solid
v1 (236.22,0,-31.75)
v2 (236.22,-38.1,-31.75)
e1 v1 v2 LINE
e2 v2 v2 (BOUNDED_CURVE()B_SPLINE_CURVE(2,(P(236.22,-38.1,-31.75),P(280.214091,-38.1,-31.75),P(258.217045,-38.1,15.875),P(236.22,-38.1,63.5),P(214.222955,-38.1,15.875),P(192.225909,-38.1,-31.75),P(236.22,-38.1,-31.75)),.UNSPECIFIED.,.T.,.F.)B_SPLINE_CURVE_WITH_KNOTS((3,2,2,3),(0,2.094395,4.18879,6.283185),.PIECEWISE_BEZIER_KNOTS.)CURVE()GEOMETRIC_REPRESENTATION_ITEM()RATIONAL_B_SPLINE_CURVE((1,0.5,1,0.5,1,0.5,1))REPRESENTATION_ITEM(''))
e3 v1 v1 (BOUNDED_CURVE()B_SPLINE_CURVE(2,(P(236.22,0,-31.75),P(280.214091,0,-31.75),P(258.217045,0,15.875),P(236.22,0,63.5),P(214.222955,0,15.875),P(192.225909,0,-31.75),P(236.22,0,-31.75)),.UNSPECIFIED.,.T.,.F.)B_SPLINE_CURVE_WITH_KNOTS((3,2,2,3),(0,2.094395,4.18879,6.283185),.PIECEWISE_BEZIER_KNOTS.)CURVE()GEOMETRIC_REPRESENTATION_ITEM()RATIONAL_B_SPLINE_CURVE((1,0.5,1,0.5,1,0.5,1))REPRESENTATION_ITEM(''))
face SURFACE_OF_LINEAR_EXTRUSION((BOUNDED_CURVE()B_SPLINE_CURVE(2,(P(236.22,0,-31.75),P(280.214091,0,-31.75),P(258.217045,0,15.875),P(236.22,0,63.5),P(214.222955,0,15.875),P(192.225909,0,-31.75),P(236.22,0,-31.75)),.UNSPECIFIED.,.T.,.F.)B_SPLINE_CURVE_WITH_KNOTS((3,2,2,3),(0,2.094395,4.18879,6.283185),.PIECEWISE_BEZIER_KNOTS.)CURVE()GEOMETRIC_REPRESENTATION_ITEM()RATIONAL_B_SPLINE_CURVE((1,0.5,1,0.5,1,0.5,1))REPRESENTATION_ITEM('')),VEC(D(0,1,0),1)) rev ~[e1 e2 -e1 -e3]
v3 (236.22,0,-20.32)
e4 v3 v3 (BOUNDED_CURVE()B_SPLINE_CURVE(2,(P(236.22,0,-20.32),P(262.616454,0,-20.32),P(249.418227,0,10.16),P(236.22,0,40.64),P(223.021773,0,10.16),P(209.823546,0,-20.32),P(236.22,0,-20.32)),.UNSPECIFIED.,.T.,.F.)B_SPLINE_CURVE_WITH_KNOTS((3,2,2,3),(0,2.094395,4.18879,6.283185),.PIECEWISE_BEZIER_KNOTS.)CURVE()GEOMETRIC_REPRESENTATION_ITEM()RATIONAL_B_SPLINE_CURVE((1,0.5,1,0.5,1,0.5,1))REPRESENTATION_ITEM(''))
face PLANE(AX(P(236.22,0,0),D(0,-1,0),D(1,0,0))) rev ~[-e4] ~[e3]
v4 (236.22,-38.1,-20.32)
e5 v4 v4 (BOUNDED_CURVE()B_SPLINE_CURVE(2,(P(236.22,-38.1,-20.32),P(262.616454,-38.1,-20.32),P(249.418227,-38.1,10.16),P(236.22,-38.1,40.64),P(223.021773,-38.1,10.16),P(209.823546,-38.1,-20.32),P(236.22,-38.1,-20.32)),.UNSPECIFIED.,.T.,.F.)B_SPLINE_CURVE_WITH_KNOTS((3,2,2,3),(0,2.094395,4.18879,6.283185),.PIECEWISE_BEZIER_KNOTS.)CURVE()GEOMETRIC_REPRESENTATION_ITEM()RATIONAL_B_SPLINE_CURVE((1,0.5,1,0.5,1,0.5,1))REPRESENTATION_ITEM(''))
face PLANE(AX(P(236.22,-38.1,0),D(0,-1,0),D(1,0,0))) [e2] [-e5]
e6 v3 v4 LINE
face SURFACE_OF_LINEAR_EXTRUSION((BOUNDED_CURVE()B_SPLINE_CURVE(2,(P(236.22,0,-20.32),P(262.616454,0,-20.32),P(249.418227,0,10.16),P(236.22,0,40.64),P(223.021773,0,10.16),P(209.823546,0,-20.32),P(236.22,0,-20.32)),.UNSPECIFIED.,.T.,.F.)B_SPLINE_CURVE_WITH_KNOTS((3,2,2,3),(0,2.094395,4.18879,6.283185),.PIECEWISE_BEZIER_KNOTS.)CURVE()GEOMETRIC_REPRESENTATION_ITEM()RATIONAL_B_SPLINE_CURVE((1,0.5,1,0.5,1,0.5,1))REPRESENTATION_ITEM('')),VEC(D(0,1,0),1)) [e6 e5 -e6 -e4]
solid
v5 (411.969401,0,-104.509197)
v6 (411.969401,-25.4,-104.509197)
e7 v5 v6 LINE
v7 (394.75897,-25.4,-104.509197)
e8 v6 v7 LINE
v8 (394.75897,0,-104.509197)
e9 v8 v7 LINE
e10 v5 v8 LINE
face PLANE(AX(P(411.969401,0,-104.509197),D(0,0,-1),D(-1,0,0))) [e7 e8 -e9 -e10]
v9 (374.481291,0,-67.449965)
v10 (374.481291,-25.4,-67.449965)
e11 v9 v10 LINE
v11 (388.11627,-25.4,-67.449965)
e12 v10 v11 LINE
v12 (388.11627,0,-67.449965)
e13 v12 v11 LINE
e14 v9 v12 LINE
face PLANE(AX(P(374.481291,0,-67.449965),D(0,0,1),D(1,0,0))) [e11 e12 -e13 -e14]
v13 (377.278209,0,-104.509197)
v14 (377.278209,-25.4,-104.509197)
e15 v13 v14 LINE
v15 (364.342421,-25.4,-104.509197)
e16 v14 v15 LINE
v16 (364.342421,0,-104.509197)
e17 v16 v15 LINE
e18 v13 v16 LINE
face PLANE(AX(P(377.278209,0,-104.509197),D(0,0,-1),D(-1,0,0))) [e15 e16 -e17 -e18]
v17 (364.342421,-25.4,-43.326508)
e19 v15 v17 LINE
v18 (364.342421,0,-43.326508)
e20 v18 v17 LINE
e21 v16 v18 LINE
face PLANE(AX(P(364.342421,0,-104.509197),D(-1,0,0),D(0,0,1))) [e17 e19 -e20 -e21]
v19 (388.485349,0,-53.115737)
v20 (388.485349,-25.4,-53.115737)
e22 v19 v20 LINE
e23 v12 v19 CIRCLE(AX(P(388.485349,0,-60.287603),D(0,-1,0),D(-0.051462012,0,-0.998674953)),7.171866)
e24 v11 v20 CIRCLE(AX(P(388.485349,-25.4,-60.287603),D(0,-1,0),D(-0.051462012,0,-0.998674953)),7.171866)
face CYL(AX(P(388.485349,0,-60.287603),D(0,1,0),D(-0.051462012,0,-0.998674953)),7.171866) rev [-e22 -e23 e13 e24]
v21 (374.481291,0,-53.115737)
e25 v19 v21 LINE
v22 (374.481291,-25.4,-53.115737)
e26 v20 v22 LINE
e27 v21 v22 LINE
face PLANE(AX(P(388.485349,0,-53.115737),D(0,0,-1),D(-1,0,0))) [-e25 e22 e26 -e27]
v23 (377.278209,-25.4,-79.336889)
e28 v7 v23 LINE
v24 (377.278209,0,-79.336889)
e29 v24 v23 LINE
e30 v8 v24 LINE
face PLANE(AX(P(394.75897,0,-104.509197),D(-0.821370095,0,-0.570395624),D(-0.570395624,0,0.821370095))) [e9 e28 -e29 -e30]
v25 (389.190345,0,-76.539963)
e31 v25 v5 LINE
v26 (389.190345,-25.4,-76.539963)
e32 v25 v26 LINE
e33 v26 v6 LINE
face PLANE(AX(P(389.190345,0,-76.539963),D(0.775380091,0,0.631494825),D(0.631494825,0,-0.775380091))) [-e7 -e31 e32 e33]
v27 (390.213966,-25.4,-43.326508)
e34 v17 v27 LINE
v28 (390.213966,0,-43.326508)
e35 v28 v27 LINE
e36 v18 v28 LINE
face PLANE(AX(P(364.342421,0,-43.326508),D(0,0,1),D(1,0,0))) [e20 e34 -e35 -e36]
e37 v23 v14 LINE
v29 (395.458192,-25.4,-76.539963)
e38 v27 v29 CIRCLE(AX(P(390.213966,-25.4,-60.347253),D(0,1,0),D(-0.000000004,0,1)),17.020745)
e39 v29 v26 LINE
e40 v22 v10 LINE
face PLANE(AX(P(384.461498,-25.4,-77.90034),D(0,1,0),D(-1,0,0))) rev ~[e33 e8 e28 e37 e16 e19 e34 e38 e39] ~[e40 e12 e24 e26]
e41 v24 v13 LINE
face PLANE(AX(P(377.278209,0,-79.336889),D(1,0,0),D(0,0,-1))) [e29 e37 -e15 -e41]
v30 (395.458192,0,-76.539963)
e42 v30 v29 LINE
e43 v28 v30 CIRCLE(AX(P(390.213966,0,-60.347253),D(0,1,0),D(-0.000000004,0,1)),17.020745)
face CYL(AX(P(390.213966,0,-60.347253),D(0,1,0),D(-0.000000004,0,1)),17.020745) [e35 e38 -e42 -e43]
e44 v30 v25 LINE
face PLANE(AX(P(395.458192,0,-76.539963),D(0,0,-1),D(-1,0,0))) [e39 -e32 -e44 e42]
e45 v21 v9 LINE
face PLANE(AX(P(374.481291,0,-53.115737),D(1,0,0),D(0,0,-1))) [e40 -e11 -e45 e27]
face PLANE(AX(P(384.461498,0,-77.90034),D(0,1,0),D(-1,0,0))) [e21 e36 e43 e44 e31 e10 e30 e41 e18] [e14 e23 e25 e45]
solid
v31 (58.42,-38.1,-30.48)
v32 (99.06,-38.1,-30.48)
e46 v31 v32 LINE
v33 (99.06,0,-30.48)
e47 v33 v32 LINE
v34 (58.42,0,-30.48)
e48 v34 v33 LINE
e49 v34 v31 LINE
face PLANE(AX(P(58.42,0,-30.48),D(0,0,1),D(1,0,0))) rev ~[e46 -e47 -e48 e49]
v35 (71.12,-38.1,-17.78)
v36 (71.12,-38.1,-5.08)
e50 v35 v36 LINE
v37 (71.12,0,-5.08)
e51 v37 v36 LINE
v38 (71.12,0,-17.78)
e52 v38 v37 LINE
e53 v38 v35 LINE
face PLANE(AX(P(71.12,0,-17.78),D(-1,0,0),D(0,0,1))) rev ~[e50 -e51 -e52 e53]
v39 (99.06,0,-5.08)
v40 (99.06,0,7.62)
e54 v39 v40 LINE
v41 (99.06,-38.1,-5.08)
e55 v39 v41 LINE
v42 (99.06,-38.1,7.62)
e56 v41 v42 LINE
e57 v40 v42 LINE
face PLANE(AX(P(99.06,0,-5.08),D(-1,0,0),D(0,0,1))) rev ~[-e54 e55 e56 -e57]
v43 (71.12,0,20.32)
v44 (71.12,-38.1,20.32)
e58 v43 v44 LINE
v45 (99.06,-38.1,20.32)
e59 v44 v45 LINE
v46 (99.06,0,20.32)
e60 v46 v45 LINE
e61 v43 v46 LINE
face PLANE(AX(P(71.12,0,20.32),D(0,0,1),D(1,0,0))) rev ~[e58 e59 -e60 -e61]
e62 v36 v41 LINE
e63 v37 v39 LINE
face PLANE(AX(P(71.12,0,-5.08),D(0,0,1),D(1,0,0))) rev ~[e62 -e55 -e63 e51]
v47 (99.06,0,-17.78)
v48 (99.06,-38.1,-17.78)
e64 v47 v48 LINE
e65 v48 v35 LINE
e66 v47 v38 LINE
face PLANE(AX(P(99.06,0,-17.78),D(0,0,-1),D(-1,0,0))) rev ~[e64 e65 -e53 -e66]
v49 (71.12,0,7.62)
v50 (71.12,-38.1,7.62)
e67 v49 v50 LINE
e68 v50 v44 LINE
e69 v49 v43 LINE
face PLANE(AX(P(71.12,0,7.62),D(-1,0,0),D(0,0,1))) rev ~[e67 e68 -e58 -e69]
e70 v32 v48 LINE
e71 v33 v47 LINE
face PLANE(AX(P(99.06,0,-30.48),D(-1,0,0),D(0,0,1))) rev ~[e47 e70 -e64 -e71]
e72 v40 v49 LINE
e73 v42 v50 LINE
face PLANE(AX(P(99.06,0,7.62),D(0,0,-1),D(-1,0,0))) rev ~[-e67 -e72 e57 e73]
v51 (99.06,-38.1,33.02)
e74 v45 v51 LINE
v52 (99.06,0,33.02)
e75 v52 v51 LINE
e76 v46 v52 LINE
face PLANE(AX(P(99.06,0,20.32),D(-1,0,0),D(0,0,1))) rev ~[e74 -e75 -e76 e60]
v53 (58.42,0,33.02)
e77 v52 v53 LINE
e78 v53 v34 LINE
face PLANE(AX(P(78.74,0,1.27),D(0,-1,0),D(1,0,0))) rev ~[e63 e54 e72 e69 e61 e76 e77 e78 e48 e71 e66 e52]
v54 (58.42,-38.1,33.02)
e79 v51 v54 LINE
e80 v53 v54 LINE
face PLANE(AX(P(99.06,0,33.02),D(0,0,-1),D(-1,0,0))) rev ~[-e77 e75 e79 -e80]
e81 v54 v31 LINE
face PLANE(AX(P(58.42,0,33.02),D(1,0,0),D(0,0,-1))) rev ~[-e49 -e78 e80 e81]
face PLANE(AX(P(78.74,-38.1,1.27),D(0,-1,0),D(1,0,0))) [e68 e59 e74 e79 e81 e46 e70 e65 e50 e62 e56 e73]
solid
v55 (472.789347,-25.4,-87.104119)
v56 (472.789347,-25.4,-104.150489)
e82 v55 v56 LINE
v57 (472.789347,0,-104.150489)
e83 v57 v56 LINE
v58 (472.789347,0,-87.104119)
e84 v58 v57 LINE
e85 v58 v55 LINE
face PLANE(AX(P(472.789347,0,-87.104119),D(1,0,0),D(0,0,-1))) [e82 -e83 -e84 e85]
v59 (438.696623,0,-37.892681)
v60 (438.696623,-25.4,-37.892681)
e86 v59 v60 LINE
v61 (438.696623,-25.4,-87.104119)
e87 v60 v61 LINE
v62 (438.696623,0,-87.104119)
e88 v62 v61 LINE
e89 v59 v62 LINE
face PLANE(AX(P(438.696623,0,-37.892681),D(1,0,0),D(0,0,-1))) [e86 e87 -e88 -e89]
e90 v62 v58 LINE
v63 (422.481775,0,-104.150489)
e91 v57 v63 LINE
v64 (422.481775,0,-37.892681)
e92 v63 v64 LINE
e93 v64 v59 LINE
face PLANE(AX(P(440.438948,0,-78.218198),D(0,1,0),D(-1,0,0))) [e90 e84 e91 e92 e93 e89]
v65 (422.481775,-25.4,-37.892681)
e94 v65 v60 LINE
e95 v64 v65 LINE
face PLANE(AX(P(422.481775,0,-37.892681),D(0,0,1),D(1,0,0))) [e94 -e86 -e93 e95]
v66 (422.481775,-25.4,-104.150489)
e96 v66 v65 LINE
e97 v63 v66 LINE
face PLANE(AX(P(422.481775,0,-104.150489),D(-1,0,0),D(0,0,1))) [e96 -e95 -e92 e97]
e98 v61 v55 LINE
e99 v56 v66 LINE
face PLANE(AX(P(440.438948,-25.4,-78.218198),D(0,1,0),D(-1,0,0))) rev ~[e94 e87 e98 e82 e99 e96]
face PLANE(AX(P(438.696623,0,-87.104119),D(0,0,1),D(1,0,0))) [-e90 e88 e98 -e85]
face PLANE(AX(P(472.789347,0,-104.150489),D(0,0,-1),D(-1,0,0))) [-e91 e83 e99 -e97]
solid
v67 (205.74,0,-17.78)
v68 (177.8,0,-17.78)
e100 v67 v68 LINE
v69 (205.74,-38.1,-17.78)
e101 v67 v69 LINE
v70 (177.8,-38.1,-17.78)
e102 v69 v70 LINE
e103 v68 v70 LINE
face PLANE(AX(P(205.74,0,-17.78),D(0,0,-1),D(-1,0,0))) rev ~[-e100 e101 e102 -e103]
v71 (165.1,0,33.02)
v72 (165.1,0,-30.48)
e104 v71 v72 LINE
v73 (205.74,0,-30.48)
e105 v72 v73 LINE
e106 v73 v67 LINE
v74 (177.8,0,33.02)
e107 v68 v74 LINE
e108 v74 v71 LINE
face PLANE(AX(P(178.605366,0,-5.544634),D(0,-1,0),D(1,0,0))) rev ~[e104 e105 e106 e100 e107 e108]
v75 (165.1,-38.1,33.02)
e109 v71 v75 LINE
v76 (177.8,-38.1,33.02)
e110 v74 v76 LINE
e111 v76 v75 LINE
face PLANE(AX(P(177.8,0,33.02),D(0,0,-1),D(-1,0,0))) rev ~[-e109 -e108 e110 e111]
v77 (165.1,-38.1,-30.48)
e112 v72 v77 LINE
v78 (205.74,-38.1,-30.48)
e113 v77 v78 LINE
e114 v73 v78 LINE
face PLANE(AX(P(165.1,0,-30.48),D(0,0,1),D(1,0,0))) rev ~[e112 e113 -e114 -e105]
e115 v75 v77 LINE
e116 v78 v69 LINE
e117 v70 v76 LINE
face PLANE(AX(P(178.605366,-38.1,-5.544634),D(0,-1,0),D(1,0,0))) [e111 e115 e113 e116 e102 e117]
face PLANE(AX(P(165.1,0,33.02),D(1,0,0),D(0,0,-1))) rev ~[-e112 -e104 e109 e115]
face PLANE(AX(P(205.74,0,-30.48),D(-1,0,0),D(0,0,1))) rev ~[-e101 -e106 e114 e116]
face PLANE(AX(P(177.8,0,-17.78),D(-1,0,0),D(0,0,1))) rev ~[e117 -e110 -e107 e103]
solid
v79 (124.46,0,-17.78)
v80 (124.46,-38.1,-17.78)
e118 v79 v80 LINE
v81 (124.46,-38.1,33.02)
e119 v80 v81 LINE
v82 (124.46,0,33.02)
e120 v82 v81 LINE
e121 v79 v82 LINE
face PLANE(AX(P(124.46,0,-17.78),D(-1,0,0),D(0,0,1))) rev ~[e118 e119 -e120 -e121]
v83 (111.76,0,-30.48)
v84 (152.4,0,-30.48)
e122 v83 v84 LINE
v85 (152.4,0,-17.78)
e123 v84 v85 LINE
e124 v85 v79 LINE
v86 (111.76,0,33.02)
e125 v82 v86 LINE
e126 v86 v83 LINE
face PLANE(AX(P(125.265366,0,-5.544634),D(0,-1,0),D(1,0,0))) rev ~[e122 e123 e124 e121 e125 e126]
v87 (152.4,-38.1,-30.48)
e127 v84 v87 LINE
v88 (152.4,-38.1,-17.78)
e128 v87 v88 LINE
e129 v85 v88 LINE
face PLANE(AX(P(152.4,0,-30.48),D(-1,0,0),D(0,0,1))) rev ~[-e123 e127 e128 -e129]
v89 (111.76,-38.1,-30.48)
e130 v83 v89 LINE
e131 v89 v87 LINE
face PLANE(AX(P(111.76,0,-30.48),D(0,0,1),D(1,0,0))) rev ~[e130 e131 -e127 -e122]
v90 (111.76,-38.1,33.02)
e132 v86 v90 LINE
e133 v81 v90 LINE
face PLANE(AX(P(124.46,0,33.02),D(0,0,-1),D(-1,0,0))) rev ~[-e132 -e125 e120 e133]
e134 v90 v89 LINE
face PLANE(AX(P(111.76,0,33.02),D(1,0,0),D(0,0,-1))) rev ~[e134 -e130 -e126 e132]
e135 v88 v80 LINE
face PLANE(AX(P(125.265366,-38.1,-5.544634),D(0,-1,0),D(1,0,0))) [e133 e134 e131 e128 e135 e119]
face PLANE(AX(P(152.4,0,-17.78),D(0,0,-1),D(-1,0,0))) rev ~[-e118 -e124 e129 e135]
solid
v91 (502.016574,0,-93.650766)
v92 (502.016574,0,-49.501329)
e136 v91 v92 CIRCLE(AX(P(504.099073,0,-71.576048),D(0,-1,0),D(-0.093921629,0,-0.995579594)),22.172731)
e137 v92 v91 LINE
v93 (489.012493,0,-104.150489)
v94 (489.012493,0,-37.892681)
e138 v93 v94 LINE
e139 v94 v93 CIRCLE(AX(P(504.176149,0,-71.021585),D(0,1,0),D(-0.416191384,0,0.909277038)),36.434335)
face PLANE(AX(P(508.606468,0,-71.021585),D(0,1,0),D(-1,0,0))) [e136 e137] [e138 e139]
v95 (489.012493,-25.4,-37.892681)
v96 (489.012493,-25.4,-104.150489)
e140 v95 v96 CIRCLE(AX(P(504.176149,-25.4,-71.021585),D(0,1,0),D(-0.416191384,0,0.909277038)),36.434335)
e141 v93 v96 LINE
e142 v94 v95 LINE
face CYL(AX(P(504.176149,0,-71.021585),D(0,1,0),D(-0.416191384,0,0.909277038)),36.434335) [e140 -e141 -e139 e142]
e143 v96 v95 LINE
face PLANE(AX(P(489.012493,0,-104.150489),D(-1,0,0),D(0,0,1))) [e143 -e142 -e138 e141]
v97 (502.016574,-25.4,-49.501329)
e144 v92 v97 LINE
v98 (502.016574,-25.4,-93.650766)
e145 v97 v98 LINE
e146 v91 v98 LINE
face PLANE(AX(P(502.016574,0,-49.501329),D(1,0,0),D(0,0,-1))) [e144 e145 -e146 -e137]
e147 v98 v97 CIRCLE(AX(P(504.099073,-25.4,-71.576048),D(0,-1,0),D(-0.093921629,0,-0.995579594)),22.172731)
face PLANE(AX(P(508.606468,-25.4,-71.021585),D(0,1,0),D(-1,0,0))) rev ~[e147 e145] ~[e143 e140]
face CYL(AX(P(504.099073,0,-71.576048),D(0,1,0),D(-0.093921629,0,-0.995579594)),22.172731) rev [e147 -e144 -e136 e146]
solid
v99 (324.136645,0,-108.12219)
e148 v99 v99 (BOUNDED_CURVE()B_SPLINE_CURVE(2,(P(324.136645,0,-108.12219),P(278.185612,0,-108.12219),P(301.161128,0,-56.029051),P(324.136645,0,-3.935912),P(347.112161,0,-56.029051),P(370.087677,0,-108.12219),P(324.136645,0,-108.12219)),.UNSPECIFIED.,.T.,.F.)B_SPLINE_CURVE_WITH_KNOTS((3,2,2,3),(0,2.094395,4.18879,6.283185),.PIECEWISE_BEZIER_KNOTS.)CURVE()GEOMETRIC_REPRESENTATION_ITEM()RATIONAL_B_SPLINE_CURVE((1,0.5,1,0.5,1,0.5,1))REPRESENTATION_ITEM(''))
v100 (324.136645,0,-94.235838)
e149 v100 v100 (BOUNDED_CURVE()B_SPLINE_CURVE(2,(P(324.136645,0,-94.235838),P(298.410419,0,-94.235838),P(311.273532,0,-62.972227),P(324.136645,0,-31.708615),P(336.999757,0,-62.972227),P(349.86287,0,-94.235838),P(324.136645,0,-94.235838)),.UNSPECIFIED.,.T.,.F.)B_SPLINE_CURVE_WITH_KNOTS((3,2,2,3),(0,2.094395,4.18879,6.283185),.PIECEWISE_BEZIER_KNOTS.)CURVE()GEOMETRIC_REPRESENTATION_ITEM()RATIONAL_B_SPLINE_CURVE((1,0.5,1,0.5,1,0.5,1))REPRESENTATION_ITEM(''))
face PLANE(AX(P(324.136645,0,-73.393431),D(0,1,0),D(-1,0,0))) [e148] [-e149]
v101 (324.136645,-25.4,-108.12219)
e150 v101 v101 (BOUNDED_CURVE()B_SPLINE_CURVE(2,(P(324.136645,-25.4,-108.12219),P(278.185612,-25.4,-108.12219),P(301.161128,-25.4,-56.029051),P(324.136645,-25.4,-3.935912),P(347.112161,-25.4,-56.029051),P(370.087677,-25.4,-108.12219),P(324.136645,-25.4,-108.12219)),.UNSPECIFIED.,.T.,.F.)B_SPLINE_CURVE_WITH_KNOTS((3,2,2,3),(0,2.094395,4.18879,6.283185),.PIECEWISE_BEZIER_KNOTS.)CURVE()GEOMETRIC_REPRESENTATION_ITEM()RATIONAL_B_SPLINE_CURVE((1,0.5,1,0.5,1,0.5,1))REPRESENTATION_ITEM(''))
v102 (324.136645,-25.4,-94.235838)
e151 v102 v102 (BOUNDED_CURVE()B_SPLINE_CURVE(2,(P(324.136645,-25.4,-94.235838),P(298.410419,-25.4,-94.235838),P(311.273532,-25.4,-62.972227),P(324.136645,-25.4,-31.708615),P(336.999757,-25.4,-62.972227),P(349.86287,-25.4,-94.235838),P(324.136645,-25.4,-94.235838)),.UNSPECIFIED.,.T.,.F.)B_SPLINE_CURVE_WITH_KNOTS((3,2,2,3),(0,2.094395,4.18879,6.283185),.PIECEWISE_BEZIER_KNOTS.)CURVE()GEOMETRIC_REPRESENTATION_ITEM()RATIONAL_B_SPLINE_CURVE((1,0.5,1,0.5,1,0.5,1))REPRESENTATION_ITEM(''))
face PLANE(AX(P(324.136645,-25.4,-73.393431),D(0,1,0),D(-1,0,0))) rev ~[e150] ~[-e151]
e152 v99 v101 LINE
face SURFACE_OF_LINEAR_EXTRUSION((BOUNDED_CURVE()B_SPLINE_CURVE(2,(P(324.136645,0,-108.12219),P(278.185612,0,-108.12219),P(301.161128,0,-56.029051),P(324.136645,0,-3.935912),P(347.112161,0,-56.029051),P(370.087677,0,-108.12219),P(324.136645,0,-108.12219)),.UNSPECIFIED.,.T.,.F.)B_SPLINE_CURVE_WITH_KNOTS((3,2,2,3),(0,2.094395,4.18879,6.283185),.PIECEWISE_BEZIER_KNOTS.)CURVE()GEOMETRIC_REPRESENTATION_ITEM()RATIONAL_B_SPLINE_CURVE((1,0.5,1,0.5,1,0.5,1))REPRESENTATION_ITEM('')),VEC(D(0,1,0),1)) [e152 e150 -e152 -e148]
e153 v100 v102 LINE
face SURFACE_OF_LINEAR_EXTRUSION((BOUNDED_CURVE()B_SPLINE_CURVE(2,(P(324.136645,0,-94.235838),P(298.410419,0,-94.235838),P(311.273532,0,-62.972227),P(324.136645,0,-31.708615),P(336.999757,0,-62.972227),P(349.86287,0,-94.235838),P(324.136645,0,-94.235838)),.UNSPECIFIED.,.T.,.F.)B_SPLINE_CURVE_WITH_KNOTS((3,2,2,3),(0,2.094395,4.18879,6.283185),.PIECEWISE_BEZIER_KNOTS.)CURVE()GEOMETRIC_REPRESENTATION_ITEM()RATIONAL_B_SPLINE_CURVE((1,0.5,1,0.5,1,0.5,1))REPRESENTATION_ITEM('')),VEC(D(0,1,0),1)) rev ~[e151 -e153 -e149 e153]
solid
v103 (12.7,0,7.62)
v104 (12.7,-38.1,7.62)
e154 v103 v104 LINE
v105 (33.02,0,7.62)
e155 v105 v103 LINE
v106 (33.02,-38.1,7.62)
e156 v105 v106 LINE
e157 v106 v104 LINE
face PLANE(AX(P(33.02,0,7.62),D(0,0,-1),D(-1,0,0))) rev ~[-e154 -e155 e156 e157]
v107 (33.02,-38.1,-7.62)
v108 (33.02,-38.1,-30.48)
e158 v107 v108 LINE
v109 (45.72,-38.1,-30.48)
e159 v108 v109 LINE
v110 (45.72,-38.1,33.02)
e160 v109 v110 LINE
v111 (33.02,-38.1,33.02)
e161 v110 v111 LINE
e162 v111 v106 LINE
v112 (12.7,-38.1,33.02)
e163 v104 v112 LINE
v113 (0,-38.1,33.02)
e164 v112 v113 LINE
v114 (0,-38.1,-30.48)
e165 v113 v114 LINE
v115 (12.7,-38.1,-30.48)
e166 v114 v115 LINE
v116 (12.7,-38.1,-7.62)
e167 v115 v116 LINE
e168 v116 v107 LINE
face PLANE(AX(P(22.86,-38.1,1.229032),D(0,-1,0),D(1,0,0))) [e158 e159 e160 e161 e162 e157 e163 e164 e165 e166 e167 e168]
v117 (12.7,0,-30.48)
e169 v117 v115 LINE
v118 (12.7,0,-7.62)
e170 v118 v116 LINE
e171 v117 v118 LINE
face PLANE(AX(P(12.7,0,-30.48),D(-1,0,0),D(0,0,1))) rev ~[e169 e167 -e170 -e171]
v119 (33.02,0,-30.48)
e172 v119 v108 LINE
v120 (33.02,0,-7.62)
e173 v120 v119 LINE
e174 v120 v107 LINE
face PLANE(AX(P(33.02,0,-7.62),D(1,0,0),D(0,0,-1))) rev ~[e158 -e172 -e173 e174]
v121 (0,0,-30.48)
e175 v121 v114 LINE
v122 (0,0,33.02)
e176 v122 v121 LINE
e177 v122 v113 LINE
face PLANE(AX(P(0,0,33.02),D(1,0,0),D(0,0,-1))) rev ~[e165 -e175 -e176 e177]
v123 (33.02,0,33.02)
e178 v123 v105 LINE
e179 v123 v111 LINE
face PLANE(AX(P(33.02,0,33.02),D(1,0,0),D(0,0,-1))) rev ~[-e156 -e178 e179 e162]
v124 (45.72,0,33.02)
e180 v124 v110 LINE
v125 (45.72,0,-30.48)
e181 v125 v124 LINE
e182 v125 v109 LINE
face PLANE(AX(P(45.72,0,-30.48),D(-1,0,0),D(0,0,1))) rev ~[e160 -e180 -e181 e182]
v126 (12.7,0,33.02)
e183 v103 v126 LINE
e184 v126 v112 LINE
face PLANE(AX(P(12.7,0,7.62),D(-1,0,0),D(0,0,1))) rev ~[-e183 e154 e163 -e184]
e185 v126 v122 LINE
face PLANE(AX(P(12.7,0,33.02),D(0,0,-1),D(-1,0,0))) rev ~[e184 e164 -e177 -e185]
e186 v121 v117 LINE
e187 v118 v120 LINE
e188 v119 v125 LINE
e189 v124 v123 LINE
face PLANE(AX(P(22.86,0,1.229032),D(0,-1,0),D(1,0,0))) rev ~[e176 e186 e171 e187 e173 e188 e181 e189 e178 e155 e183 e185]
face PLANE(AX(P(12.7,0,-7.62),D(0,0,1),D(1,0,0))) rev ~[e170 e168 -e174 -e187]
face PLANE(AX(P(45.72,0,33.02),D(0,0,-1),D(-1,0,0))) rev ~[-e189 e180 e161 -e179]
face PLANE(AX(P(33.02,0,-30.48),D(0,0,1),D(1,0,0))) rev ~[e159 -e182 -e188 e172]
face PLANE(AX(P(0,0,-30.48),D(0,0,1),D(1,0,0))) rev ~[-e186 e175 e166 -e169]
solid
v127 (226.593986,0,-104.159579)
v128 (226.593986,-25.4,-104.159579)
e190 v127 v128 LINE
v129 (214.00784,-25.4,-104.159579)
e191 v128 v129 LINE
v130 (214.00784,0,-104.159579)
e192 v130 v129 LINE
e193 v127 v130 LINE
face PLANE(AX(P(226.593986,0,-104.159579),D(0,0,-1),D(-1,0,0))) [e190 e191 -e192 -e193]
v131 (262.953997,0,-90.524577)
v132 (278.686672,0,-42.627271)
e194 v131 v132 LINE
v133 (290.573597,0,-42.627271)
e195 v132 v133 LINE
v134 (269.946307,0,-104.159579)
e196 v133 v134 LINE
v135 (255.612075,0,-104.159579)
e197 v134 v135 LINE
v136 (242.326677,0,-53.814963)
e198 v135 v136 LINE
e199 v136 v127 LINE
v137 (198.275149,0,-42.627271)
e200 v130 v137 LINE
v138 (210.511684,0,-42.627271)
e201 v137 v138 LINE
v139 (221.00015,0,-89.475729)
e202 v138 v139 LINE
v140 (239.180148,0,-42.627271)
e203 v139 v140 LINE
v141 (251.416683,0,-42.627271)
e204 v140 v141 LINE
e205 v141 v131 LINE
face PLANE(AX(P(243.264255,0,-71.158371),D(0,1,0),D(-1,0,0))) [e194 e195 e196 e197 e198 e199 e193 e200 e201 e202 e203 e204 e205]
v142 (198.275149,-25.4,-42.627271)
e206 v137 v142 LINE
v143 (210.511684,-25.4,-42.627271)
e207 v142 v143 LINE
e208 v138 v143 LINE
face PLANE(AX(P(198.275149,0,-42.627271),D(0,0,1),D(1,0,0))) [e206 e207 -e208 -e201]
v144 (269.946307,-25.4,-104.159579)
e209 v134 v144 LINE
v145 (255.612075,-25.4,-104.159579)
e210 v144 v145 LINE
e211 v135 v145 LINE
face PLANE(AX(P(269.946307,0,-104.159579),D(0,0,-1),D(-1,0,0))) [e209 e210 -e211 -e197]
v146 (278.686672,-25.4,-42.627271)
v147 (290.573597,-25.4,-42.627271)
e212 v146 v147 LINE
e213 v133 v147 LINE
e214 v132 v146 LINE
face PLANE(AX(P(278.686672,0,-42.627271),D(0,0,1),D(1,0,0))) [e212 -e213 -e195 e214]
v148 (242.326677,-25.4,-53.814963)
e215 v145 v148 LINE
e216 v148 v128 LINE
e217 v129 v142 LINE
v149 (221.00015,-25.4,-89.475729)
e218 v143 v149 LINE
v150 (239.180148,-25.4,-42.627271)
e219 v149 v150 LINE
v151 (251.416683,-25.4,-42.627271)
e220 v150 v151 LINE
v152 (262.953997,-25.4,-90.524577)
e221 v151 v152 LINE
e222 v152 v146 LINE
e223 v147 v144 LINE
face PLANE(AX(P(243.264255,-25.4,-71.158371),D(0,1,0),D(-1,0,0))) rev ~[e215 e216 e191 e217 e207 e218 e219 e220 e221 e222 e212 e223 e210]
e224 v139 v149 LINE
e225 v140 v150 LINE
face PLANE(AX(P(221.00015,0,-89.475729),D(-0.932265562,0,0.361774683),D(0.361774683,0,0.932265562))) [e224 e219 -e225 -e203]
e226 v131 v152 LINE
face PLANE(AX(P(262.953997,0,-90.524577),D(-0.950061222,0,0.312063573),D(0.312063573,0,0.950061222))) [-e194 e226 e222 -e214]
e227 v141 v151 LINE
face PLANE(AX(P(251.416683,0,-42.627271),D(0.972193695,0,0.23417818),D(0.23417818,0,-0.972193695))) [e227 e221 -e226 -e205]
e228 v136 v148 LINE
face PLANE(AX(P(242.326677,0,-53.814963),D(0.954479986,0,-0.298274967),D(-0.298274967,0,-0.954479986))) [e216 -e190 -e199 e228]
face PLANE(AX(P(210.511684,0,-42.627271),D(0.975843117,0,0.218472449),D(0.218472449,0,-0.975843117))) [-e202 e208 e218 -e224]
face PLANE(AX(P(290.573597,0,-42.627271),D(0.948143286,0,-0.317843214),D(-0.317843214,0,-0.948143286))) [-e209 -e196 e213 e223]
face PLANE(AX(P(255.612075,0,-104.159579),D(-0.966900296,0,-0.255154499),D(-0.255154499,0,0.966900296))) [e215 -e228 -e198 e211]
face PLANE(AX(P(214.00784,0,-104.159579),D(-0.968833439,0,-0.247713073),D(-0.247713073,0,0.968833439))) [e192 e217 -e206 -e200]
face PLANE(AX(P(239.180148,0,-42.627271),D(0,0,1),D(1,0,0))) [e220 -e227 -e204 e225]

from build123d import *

# Parameters (mm, degrees)
F1_DEPTH = 38.1
F3_DEPTH = 25.4


with BuildPart() as f1:
    # F0 (on Front) → F1 (new body)
    with BuildSketch(Plane.XZ):
        Polygon((0, 33.02), (0, 0), (0, -30.48), (12.7, -30.48), (12.7, -7.62), (33.02, -7.62), (33.02, -30.48), (45.72, -30.48), (45.72, 33.02), (33.02, 33.02), (33.02, 7.62), (12.7, 7.62), (12.7, 33.02), align=None)
        Polygon((99.06, 33.02), (58.42, 33.02), (58.42, -30.48), (99.06, -30.48), (99.06, -17.78), (71.12, -17.78), (71.12, -5.08), (99.06, -5.08), (99.06, 7.62), (71.12, 7.62), (71.12, 20.32), (99.06, 20.32), align=None)
        Polygon((124.46, 33.02), (111.76, 33.02), (111.76, -30.48), (152.4, -30.48), (152.4, -17.78), (124.46, -17.78), align=None)
        Polygon((177.8, 33.02), (165.1, 33.02), (165.1, -30.48), (205.74, -30.48), (205.74, -17.78), (177.8, -17.78), align=None)
        with BuildLine():
            add(Edge.make_bspline(
                [(236.22, -31.75), (280.214091, -31.75), (258.217045, 15.875), (236.22, 63.5), (214.222955, 15.875), (192.225909, -31.75), (236.22, -31.75)],
                knots=[0, 0, 0, 2.094395, 2.094395, 4.18879, 4.18879, 6.283185, 6.283185, 6.283185], degree=2, weights=[1, 0.5, 1, 0.5, 1, 0.5, 1]))
        make_face()
        with BuildLine():
            add(Edge.make_bspline(
                [(236.22, -20.32), (262.616454, -20.32), (249.418227, 10.16), (236.22, 40.64), (223.021773, 10.16), (209.823546, -20.32), (236.22, -20.32)],
                knots=[0, 0, 0, 2.094395, 2.094395, 4.18879, 4.18879, 6.283185, 6.283185, 6.283185], degree=2, weights=[1, 0.5, 1, 0.5, 1, 0.5, 1]))
        make_face(mode=Mode.SUBTRACT)
    extrude(amount=F1_DEPTH)


with BuildPart() as f3:
    # F2 (on face) → F3 (new body)
    with BuildSketch(Plane(origin=(0, 0, 0), x_dir=(-1, 0, 0), z_dir=(0, 1, 0))):
        Polygon((-221.00015, -89.475729), (-239.180148, -42.627271), (-251.416683, -42.627271), (-262.953997, -90.524577), (-278.686672, -42.627271), (-290.573597, -42.627271), (-269.946307, -104.159579), (-255.612075, -104.159579), (-242.326677, -53.814963), (-226.593986, -104.159579), (-214.00784, -104.159579), (-198.275149, -42.627271), (-210.511684, -42.627271), align=None)
        with BuildLine():
            add(Edge.make_bspline(
                [(-324.136645, -108.12219), (-278.185612, -108.12219), (-301.161128, -56.029051), (-324.136645, -3.935912), (-347.112161, -56.029051), (-370.087677, -108.12219), (-324.136645, -108.12219)],
                knots=[0, 0, 0, 2.094395, 2.094395, 4.18879, 4.18879, 6.283185, 6.283185, 6.283185], degree=2, weights=[1, 0.5, 1, 0.5, 1, 0.5, 1]))
        make_face()
        with BuildLine():
            add(Edge.make_bspline(
                [(-324.136645, -94.235838), (-298.410419, -94.235838), (-311.273532, -62.972227), (-324.136645, -31.708615), (-336.999757, -62.972227), (-349.86287, -94.235838), (-324.136645, -94.235838)],
                knots=[0, 0, 0, 2.094395, 2.094395, 4.18879, 4.18879, 6.283185, 6.283185, 6.283185], degree=2, weights=[1, 0.5, 1, 0.5, 1, 0.5, 1]))
        make_face(mode=Mode.SUBTRACT)
        with BuildLine():
            Line((-364.342421, -104.509197), (-364.342421, -43.326508))
            Line((-364.342421, -43.326508), (-390.213966, -43.326508))
            ThreePointArc((-390.213966, -43.326508), (-407.026428, -57.692656), (-395.458192, -76.539963))
            Line((-395.458192, -76.539963), (-389.190345, -76.539963))
            Line((-389.190345, -76.539963), (-411.969401, -104.509197))
            Line((-411.969401, -104.509197), (-394.75897, -104.509197))
            Line((-394.75897, -104.509197), (-377.278209, -79.336889))
            Line((-377.278209, -79.336889), (-377.278209, -104.509197))
            Line((-377.278209, -104.509197), (-364.342421, -104.509197))
        make_face()
        with BuildLine():
            Line((-388.485349, -53.115737), (-374.481291, -53.115737))
            Line((-374.481291, -53.115737), (-374.481291, -67.449965))
            Line((-374.481291, -67.449965), (-388.11627, -67.449965))
            ThreePointArc((-388.11627, -67.449965), (-395.654838, -60.472203), (-388.485349, -53.115737))
        make_face(mode=Mode.SUBTRACT)
        Polygon((-422.481775, -104.150489), (-422.481775, -37.892681), (-438.696623, -37.892681), (-438.696623, -87.104119), (-472.789347, -87.104119), (-472.789347, -104.150489), align=None)
        with BuildLine():
            Line((-489.012493, -104.150489), (-489.012493, -37.892681))
            ThreePointArc((-489.012493, -37.892681), (-540.610484, -71.021585), (-489.012493, -104.150489))
        make_face()
        with BuildLine():
            ThreePointArc((-502.016574, -93.650766), (-526.271804, -71.576048), (-502.016574, -49.501329))
            Line((-502.016574, -49.501329), (-502.016574, -93.650766))
        make_face(mode=Mode.SUBTRACT)
    extrude(amount=-F3_DEPTH)


solid = Compound([f1.part, f3.part])
